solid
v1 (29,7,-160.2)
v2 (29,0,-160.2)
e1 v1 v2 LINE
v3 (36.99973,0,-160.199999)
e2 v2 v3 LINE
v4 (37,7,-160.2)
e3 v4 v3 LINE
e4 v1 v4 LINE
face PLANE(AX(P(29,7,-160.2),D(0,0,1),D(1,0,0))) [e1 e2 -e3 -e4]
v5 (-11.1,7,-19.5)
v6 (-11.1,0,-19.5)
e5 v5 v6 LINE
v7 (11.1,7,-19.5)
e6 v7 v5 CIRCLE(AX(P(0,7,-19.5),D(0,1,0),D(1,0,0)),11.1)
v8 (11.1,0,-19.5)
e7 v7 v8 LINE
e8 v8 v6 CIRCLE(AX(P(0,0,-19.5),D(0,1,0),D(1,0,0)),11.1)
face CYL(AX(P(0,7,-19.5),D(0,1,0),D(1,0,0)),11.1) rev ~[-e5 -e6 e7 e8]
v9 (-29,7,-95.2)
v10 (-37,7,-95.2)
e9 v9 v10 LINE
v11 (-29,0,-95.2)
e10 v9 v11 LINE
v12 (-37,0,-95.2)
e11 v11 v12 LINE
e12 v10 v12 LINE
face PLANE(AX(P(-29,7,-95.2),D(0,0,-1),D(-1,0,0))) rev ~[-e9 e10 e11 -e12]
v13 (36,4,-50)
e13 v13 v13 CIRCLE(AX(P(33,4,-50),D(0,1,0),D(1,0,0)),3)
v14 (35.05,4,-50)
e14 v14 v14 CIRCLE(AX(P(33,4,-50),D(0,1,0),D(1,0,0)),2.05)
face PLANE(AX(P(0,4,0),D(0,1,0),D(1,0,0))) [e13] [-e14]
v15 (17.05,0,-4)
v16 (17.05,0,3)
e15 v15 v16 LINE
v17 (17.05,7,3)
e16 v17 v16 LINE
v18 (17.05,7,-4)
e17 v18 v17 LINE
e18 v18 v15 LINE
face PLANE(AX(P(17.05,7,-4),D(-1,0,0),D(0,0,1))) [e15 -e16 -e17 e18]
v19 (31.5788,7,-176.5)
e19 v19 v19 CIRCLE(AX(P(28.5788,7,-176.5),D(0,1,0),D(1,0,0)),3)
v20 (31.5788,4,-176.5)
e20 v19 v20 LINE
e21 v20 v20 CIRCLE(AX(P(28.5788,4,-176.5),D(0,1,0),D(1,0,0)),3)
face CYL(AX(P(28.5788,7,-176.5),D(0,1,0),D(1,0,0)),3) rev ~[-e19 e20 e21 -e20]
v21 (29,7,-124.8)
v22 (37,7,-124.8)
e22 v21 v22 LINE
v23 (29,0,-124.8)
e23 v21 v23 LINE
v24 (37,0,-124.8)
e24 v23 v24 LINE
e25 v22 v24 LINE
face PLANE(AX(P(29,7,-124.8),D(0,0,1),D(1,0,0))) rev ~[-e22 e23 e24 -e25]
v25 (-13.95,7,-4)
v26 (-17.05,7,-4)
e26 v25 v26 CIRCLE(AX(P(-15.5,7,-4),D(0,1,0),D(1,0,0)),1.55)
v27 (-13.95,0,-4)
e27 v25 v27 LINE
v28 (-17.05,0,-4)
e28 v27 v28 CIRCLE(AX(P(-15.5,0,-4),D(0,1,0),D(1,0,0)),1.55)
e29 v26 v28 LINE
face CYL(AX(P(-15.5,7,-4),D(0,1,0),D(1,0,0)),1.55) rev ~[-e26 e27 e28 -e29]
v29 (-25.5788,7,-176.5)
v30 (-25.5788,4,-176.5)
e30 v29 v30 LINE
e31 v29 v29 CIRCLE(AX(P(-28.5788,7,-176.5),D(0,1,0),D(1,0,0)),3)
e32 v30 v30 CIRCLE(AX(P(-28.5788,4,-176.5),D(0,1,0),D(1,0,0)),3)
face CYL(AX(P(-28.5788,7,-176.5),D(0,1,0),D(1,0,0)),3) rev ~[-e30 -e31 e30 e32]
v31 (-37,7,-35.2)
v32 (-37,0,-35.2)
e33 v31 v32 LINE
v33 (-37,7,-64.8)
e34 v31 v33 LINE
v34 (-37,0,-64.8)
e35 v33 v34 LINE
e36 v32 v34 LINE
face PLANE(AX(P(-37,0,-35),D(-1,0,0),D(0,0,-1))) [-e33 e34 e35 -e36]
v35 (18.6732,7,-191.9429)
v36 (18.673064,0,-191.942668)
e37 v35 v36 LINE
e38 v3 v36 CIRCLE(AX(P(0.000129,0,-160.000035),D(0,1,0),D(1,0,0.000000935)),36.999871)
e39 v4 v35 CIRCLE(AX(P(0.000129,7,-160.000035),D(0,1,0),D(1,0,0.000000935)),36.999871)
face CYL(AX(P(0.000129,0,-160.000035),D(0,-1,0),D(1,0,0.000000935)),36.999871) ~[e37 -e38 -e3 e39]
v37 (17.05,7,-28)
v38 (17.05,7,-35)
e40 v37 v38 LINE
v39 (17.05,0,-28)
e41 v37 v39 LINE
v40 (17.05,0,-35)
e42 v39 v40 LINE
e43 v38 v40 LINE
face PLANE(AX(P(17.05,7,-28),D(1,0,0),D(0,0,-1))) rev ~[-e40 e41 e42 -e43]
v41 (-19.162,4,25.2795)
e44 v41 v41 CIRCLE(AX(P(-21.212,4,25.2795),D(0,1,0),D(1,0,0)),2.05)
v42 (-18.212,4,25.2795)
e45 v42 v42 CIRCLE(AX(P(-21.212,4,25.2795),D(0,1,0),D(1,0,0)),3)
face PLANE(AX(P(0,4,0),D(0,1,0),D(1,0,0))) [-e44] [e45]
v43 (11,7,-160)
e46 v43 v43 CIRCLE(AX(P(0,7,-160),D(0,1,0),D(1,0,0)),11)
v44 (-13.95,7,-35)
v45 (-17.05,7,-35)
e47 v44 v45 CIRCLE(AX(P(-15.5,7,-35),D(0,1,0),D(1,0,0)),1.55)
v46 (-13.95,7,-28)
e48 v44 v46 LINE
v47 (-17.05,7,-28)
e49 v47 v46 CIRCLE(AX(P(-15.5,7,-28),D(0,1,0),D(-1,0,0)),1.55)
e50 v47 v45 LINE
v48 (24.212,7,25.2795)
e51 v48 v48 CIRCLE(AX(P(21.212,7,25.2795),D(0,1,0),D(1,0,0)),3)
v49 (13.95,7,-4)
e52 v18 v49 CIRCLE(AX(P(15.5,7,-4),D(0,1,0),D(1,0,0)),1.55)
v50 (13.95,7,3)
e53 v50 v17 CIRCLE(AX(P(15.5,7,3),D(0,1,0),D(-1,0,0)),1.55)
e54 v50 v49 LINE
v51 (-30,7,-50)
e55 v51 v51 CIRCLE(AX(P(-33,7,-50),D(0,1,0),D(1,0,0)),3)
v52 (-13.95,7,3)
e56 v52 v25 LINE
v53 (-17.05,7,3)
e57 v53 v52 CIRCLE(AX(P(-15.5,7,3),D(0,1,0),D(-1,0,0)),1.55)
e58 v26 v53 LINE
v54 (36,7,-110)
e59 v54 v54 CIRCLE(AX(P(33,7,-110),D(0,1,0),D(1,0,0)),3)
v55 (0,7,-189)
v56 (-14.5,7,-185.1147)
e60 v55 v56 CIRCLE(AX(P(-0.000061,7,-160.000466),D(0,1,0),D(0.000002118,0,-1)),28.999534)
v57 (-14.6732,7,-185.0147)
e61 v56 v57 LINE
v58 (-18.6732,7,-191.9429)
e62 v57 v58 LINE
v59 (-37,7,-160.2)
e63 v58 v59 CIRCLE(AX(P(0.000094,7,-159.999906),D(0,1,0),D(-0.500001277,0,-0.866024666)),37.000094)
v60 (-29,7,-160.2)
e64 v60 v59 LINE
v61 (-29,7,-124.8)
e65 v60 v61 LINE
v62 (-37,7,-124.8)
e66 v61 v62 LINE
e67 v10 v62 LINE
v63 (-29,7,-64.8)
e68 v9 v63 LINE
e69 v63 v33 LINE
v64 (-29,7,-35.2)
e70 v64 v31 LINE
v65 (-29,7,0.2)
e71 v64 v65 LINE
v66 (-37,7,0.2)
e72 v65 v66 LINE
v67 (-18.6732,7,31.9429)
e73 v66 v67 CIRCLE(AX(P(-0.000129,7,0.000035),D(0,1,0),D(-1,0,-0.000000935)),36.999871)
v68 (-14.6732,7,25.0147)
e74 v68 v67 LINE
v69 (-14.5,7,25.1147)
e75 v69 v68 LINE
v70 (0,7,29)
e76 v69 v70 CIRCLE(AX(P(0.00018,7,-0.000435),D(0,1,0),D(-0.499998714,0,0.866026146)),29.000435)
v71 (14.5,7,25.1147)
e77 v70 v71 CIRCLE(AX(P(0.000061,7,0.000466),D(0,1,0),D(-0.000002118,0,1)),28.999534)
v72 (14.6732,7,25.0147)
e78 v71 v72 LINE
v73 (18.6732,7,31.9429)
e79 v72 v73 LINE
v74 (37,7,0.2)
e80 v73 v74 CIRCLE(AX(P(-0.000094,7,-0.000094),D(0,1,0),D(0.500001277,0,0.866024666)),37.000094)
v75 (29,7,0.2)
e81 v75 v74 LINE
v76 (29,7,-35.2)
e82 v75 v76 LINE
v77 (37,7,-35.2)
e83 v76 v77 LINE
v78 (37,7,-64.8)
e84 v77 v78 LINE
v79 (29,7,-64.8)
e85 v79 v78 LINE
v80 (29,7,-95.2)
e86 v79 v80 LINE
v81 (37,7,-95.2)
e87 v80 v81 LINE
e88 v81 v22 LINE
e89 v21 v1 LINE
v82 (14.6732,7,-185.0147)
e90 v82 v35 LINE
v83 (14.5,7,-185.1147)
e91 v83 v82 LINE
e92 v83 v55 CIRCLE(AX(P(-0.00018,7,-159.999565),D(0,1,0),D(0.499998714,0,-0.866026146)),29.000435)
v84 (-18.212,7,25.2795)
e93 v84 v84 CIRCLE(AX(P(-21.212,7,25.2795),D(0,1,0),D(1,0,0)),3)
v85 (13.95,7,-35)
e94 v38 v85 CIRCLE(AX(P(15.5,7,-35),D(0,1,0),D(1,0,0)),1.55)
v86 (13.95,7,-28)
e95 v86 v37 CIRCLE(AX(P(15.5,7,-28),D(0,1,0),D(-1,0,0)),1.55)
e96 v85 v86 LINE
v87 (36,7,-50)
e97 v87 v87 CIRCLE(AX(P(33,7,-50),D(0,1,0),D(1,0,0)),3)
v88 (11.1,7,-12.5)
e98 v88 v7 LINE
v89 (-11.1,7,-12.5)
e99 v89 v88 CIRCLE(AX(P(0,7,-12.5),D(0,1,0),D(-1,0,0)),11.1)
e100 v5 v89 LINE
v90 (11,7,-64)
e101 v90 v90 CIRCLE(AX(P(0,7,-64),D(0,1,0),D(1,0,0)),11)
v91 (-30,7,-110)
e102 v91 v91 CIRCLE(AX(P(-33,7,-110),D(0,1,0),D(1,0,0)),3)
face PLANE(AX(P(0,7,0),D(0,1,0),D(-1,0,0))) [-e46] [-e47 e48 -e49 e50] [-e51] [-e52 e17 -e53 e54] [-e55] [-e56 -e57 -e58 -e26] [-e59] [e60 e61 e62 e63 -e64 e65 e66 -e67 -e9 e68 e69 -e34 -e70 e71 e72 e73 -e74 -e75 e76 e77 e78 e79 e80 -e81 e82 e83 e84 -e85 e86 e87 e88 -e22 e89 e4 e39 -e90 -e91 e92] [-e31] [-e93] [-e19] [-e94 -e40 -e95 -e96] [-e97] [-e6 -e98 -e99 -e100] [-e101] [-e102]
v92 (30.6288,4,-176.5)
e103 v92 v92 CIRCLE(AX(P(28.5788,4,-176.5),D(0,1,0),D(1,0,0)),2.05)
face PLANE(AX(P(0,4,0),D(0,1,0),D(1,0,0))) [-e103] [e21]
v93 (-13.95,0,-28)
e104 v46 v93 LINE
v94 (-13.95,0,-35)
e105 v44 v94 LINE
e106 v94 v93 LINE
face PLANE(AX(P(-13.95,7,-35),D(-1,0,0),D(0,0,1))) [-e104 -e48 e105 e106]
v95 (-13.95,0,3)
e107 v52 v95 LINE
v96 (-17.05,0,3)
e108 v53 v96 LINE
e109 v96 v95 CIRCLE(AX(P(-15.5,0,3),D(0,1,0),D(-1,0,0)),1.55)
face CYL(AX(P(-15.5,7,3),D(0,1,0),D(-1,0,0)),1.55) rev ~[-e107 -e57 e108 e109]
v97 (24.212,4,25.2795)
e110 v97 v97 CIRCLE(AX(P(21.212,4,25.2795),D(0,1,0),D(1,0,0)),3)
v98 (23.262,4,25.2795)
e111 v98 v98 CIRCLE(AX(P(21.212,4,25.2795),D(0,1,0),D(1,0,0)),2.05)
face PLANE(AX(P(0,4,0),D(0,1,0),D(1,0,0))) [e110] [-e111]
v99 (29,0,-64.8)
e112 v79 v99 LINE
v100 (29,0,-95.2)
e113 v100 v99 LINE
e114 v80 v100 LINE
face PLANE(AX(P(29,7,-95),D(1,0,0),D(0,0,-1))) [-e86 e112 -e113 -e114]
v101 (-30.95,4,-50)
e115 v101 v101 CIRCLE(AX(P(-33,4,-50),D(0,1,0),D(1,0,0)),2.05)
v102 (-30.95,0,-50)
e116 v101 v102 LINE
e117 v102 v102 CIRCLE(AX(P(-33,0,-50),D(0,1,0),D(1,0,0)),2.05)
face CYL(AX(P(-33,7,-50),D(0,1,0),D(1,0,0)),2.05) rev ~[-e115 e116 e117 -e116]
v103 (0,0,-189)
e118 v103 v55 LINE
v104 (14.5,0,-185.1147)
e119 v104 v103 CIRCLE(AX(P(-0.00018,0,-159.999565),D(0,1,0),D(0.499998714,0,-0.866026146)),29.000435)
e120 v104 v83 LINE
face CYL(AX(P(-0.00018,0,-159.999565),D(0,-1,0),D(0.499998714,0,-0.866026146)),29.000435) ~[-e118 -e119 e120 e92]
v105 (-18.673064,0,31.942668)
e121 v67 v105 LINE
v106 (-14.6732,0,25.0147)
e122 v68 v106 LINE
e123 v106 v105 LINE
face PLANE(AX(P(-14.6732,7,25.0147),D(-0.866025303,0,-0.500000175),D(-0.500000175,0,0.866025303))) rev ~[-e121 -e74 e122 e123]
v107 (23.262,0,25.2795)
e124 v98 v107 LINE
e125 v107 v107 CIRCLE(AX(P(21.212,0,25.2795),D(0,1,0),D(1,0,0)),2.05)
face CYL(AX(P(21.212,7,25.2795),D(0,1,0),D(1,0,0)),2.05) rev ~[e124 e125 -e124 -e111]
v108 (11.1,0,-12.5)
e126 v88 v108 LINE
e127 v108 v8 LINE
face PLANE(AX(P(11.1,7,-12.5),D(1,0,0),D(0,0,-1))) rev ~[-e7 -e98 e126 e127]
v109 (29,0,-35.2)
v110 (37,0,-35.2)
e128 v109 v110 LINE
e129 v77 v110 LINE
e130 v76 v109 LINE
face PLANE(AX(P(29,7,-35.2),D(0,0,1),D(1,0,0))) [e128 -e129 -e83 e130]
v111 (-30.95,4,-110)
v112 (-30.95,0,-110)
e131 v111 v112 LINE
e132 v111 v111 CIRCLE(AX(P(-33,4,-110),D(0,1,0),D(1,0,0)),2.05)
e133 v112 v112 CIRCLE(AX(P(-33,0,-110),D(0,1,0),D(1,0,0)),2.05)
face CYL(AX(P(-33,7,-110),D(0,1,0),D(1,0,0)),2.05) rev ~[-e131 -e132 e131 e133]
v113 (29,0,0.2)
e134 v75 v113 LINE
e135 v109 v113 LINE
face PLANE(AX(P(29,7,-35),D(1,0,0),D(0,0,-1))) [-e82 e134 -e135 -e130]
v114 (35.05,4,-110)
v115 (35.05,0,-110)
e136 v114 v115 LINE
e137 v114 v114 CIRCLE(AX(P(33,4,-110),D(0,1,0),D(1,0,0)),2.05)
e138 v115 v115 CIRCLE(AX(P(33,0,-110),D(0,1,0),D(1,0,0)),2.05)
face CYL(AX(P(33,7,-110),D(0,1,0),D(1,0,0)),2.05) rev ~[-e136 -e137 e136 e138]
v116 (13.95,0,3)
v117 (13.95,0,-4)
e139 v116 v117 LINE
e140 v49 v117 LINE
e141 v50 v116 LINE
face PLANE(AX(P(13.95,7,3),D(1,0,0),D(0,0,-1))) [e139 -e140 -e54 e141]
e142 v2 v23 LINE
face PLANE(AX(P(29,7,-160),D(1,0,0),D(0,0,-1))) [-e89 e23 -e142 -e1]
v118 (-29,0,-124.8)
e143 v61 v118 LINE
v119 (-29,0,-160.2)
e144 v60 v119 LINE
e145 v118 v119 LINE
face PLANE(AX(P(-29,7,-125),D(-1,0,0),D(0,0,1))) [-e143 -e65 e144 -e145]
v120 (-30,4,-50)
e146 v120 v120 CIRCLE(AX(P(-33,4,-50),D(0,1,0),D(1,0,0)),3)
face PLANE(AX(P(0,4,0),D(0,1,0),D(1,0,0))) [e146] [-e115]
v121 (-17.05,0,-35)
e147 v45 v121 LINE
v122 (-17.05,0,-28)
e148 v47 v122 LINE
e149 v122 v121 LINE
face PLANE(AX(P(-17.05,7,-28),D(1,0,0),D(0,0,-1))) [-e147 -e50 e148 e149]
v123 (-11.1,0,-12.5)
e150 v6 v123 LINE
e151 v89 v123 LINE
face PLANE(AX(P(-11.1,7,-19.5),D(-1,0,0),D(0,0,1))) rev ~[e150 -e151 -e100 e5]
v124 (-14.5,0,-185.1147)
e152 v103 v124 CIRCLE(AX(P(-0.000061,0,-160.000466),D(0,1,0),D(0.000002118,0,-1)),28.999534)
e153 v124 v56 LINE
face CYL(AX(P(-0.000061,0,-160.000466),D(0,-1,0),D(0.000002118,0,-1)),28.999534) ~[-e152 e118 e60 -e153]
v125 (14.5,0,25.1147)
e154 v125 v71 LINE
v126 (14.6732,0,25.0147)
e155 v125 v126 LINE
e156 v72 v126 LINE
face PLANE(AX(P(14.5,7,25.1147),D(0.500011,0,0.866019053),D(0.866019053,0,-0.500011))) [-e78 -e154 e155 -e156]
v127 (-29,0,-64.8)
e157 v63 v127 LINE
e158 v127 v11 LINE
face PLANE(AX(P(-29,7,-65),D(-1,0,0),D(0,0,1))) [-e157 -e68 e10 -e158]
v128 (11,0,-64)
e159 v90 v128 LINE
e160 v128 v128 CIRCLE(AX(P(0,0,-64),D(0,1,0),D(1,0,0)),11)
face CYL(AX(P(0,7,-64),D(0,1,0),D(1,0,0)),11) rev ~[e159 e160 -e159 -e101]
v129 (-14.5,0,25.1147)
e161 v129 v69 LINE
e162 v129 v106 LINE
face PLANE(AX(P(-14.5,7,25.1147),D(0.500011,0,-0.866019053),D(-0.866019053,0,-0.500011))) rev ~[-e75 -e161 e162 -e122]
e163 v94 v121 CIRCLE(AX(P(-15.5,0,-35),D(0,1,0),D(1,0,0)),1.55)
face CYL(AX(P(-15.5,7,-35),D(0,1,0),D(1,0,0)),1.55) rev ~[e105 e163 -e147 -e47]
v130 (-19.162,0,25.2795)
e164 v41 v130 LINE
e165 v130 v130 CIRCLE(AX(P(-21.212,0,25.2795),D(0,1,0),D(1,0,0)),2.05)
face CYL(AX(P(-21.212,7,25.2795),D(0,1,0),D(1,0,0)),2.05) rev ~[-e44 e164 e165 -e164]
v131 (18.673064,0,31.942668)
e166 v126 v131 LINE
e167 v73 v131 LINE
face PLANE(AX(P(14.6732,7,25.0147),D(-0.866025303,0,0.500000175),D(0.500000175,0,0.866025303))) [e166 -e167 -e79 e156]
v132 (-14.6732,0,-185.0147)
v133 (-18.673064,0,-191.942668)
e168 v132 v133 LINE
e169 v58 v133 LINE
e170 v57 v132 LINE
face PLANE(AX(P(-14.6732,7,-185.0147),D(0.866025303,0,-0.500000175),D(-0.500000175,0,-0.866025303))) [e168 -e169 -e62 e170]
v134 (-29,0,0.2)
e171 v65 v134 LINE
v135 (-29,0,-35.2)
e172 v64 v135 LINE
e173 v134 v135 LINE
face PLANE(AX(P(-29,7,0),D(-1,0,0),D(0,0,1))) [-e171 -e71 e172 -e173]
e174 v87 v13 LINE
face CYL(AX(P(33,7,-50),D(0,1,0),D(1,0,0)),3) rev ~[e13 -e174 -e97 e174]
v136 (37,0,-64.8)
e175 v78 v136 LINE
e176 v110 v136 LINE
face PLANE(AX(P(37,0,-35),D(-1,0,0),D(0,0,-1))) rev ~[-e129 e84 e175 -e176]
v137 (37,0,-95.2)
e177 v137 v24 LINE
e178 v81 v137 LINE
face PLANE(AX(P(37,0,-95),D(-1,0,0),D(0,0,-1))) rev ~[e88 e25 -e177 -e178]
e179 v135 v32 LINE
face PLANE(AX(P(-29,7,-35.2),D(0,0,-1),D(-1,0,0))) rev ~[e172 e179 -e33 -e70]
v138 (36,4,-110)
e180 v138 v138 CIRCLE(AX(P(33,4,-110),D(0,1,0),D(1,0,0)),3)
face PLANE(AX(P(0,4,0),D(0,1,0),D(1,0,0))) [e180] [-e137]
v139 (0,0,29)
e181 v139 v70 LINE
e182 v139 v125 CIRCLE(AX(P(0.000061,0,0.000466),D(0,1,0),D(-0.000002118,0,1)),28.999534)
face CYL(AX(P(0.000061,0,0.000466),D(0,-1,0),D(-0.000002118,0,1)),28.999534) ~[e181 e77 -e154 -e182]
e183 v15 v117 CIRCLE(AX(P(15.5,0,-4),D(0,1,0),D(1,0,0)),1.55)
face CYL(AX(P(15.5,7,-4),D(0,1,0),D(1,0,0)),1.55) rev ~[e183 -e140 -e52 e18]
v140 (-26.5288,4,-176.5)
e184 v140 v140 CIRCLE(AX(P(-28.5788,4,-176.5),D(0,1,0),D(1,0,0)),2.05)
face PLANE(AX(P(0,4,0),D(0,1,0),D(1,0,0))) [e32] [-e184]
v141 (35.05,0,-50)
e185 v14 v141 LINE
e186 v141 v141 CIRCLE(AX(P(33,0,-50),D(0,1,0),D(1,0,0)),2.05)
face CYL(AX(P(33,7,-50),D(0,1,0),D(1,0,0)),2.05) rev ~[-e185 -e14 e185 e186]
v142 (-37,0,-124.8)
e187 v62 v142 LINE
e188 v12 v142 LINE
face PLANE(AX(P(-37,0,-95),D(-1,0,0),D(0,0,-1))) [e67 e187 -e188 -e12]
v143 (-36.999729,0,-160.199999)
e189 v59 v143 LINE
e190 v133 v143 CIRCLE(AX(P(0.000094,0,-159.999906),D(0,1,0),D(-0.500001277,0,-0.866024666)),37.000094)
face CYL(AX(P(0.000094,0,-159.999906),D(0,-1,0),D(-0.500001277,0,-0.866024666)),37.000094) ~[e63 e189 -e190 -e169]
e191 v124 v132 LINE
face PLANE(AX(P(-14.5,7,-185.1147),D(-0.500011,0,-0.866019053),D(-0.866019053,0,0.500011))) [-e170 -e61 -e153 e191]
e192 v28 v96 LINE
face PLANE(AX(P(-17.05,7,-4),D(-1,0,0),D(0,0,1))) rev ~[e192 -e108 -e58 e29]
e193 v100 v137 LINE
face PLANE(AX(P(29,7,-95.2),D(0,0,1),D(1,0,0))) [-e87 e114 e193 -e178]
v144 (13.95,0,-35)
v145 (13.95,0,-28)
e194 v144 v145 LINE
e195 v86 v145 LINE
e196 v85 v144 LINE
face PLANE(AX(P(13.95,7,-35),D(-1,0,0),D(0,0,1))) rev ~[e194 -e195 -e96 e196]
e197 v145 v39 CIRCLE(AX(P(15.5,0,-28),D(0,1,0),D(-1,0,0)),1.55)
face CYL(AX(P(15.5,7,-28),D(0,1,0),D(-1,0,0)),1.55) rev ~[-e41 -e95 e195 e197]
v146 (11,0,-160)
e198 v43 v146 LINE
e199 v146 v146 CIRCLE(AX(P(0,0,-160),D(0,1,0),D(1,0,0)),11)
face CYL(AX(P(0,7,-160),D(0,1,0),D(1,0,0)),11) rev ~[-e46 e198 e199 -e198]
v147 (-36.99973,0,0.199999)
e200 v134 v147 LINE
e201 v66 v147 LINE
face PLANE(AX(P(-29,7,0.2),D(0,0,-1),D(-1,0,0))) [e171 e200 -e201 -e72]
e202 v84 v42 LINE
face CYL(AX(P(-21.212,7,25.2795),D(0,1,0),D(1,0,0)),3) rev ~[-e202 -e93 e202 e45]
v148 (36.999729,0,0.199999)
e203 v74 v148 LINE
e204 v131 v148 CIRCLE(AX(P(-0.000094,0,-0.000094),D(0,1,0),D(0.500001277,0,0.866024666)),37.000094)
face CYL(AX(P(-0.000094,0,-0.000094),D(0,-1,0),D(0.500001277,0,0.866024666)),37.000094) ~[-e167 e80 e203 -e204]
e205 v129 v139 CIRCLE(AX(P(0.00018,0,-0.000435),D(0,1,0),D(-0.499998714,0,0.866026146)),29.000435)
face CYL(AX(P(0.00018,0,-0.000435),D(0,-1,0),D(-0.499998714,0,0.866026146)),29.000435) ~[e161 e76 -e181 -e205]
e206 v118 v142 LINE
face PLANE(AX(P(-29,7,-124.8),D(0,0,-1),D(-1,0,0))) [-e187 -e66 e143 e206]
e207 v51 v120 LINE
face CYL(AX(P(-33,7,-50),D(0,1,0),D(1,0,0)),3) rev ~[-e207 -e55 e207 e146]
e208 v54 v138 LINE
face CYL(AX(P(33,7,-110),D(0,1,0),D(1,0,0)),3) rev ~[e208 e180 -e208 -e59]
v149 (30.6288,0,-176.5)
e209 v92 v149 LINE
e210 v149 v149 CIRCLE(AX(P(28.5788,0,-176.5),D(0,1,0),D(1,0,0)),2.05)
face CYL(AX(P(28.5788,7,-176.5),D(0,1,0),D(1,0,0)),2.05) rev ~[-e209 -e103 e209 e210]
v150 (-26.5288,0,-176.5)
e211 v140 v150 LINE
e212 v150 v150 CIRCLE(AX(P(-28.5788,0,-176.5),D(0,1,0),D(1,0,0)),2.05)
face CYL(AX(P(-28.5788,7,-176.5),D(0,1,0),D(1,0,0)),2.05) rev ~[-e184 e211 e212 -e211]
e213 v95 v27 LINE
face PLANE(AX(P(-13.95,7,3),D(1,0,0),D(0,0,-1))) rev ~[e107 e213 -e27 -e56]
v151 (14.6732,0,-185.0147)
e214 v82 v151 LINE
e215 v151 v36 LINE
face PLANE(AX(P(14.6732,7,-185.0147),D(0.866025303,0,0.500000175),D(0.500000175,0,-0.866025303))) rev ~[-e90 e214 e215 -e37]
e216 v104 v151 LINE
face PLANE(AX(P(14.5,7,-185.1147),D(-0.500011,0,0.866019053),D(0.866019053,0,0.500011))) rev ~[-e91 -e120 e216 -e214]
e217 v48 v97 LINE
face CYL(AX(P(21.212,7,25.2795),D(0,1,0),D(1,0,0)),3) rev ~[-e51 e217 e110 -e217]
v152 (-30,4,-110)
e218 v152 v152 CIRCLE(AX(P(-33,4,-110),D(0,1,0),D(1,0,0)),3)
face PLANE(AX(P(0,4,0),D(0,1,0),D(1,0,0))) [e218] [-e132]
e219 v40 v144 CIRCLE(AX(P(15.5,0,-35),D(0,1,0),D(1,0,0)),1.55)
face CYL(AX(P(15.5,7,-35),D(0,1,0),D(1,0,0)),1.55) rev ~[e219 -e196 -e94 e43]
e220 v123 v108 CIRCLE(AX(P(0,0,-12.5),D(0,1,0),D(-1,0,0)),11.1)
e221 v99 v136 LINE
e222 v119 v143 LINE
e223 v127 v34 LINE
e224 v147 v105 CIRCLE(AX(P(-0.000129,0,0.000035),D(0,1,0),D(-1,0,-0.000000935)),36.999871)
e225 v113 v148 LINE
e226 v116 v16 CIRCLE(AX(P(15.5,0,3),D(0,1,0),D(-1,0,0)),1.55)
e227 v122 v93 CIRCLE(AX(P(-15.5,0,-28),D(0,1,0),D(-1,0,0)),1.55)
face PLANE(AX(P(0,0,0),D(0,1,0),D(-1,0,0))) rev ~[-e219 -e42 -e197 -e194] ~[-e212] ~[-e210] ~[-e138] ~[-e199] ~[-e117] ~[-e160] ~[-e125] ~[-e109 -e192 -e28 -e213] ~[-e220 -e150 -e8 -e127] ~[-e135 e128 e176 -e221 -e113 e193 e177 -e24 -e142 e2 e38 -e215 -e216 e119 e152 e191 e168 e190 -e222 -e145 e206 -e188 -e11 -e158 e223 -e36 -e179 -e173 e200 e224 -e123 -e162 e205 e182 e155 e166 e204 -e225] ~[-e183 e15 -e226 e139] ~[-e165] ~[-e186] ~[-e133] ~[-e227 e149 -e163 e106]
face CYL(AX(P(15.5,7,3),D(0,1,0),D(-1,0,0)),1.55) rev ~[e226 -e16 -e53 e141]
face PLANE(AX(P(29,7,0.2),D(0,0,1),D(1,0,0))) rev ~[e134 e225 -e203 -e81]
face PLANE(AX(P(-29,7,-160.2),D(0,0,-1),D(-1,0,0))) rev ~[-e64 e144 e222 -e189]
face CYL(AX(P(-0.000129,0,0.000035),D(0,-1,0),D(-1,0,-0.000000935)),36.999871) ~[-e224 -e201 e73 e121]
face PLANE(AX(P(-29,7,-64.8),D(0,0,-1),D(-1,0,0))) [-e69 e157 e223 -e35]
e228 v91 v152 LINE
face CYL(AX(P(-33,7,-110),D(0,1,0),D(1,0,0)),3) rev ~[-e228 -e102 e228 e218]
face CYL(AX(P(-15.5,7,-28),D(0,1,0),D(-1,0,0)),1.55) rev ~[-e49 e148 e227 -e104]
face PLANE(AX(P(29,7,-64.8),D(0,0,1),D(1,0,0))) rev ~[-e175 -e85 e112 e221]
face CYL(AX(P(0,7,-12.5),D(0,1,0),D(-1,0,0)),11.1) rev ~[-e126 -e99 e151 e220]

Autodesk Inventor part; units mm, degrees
ref_plane "YZ Plane" through (0, 0, 0) normal (1, 0, 0) x (0, 1, 0)
ref_plane "XZ Plane" through (0, 0, 0) normal (0, 1, 0) x (-1, 0, 0)
ref_plane "XY Plane" through (0, 0, 0) normal (0, 0, 1) x (1, 0, 0)
sketch "Boceto1" plane through (0, 0, 0) normal (0, 1, 0) x (-1, 0, 0)
  arc A0 (14.5, 25.1147) -> (0, 29) centre (0, 0) ccw
  arc A1 (0, -189) -> (14.5, -185.1147) centre (0, -160) ccw
  line L0 (37, 0) -> (29, 0)
  line L1 (37, -35) -> (29, -35)
  line L2 (29, -65) -> (37, -65)
  line L3 (29, -95) -> (37, -95)
  line L4 (29, -125) -> (37, -125)
  line L5 (29, -160) -> (37, -160)
  line L6 (14.5, 25.1147) -> (18.5, 32.0429)
  line L7 (14.5, -185.1147) -> (18.5, -192.0429)
  line L8 (0, 62.7565) -> (0, -215.9435)
  arc A2 (37, 0) -> (18.5, 32.0429) centre (0, 0) ccw
  line L9 (29, 0) -> (29, -35)
  line L10 (37, -35) -> (37, -65)
  line L11 (37, -95) -> (37, -125)
  line L12 (29, -65) -> (29, -95)
  line L13 (29, -125) -> (29, -160)
  arc A3 (18.5, -192.0429) -> (37, -160) centre (0, -160) ccw
  arc A4 (0, 29) -> (-14.5, 25.1147) centre (0, 0) ccw
  arc A5 (-14.5, -185.1147) -> (0, -189) centre (0, -160) ccw
  line L14 (-37, 0) -> (-29, 0)
  line L15 (-37, -35) -> (-29, -35)
  line L16 (-29, -65) -> (-37, -65)
  line L17 (-29, -95) -> (-37, -95)
  line L18 (-29, -125) -> (-37, -125)
  line L19 (-29, -160) -> (-37, -160)
  line L20 (-14.5, 25.1147) -> (-18.5, 32.0429)
  line L21 (-14.5, -185.1147) -> (-18.5, -192.0429)
  arc A6 (-18.5, 32.0429) -> (-37, 0) centre (0, 0) ccw
  line L22 (-29, 0) -> (-29, -35)
  line L23 (-37, -35) -> (-37, -65)
  line L24 (-37, -95) -> (-37, -125)
  line L25 (-29, -65) -> (-29, -95)
  line L26 (-29, -125) -> (-29, -160)
  arc A7 (-37, -160) -> (-18.5, -192.0429) centre (0, -160) ccw
  dimension "d1" = 58
  dimension "d3" = 58
  dimension "d4" = 160
  dimension "d5" = 35
  dimension "d6" = 30
  dimension "d7" = 30
  dimension "d8" = 30
  dimension "d9" = 35
  dimension "d10" = 60
  dimension "d11" = 60
extrude "Extrusión1" add sketch "Boceto1" along normal blind 7
sketch "Boceto2" plane through (0, 7, 0) normal (0, 1, 0) x (1, 0, 0)
  circle A0 centre (-33, 50) radius 2.05
  circle A1 centre (-33, 110) radius 2.05
  arc A2 (-18.5, 192.0429) -> (-37, 160) centre (0, 160) ccw projected
  circle A3 centre (0, 160) radius 33
  circle A4 centre (0, 0) radius 33
  circle A5 centre (-21.212, -25.2795) radius 2.05
  line L0 (0, -60.8488) -> (0, 208.5153)
  circle A6 centre (-28.5788, 176.5) radius 2.05
  line L1 (-29, 65) -> (-37, 65) projected
  line L2 (-37, 65) -> (-37, 35) projected
  line L3 (-29, 125) -> (-37, 125) projected
  line L4 (-37, 125) -> (-37, 95) projected
  line L5 (-28.5788, 176.5) -> (0, 160)
  line L6 (0, 0) -> (-21.212, -25.2795)
  line L7 (-29, 0) -> (-37, 0) projected
  line L8 (-37, 160) -> (-29, 160) projected
  circle A7 centre (33, 50) radius 2.05
  circle A8 centre (33, 110) radius 2.05
  circle A9 centre (21.212, -25.2795) radius 2.05
  circle A10 centre (28.5788, 176.5) radius 2.05
  dimension "d14" = 66
  dimension "d15" = 66
  dimension "d16" = 4.1
  dimension "d17" = 15
  dimension "d18" = 4
  dimension "d19" = 15
  dimension "d20" = 4
  dimension "d21" = 50
  dimension "d22" = 30
extrude "Extrusión2" cut sketch "Boceto2" against normal through all contours A0 | A1 | A10 A3 | A3 A10 | A6 A3 | A3 L5 A6 | L5 A3 A6 | A9 A4 | A4 A9 | A5 L6 A4 | A4 A5 | A5 A4 L6 | A7 | A8
sketch "Boceto3" plane through (0, 7, 0) normal (0, 1, 0) x (1, 0, 0)
  circle A0 centre (-33, 50) radius 2.05 projected
  circle A1 centre (-33, 50) radius 3
  circle A2 centre (-33, 110) radius 2.05 projected
  circle A3 centre (-33, 110) radius 3
  circle A4 centre (-28.5788, 176.5) radius 2.05 projected
  circle A5 centre (-28.5788, 176.5) radius 3
  circle A6 centre (-21.212, -25.2795) radius 2.05 projected
  circle A7 centre (-21.212, -25.2795) radius 3
  line L0 (0, -43.6501) -> (0, 201.1209)
  circle A8 centre (33, 50) radius 2.05
  circle A9 centre (33, 50) radius 3
  circle A10 centre (33, 110) radius 2.05
  circle A11 centre (33, 110) radius 3
  circle A12 centre (28.5788, 176.5) radius 2.05
  circle A13 centre (28.5788, 176.5) radius 3
  circle A14 centre (21.212, -25.2795) radius 2.05
  circle A15 centre (21.212, -25.2795) radius 3
  point P0 (0, 0)
  dimension "d25" = 6
extrude "Extrusión3" cut sketch "Boceto3" against normal blind 3 contours A0 | A1 | A2 | A3 | A4 | A5 | A6 | A7 | A8 | A9 | A10 | A11 | A12 | A13 | A14 | A15
sketch "Boceto4" plane through (0, 7, 0) normal (0, 1, 0) x (1, 0, 0)
  arc A0 (14.5, 185.1147) -> (-14.5, 185.1147) centre (0, 160) ccw projected
  arc A1 (-18.5, 192.0429) -> (-37, 160) centre (0, 160) ccw projected
  circle A2 centre (0, 160) radius 11
  circle A3 centre (0, 64) radius 11
  line L0 (0, 12.5) -> (0, 19.5) construction
  line L1 (11.1, 12.5) -> (11.1, 19.5)
  line L2 (-11.1, 19.5) -> (-11.1, 12.5)
  arc A4 (-11.1, 12.5) -> (11.1, 12.5) centre (0, 12.5) ccw
  arc A5 (11.1, 19.5) -> (-11.1, 19.5) centre (0, 19.5) ccw
  line L3 (-15.5, -3) -> (-15.5, 4) construction
  line L4 (-13.95, -3) -> (-13.95, 4)
  line L5 (-17.05, 4) -> (-17.05, -3)
  arc A6 (-17.05, -3) -> (-13.95, -3) centre (-15.5, -3) ccw
  arc A7 (-13.95, 4) -> (-17.05, 4) centre (-15.5, 4) ccw
  line L6 (4.1829, 16) -> (-3.8668, 16)
  line L7 (0, 6.9157) -> (0, 25.6477)
  line L8 (-15.5, 35) -> (-15.5, 28) construction
  line L9 (-13.95, 35) -> (-13.95, 28)
  line L10 (-17.05, 28) -> (-17.05, 35)
  arc A8 (-13.95, 35) -> (-17.05, 35) centre (-15.5, 35) ccw
  arc A9 (-17.05, 28) -> (-13.95, 28) centre (-15.5, 28) ccw
  line L11 (15.5, -3) -> (15.5, 4) construction
  line L12 (13.95, -3) -> (13.95, 4)
  line L13 (17.05, 4) -> (17.05, -3)
  arc A10 (13.95, -3) -> (17.05, -3) centre (15.5, -3) ccw
  arc A11 (17.05, 4) -> (13.95, 4) centre (15.5, 4) ccw
  arc A12 (13.95, 28) -> (17.05, 28) centre (15.5, 28) ccw
  line L14 (13.95, 35) -> (13.95, 28)
  line L15 (15.5, 35) -> (15.5, 28) construction
  arc A13 (17.05, 35) -> (13.95, 35) centre (15.5, 35) ccw
  line L16 (17.05, 28) -> (17.05, 35)
  point P0 (0, 189)
  point P1 (0, 16)
  point P2 (-15.5, 0.5)
  point P3 (-15.5, 31.5)
  point P4 (15.5, 0.5)
  point P5 (15.5, 31.5)
  dimension "d37" = 22
  dimension "d38" = 96
  dimension "d41" = 22.2
  dimension "d42" = 7
  dimension "d43" = 44.5
  dimension "d44" = 3.1
  dimension "d45" = 7
  dimension "d46" = 15.5
  dimension "d47" = 15.5
extrude "Extrusión4" cut sketch "Boceto4" against normal through all
sketch "Boceto7" plane through (0, 7, 0) normal (0, 1, 0) x (1, 0, 0)
  line L0 (-29, 65) -> (-37, 65) projected
  line L1 (-37, 65) -> (-29, 65)
  line L2 (-29, 65) -> (-29, 64.8)
  line L3 (-29, 64.8) -> (-37, 64.8)
  line L4 (-37, 64.8) -> (-37, 65)
  line L5 (-37, 35) -> (-29, 35) projected
  line L6 (-37, 35) -> (-29, 35)
  line L7 (-29, 35) -> (-29, 35.2)
  line L8 (-29, 35.2) -> (-37, 35.2)
  line L9 (-37, 35.2) -> (-37, 35)
  line L10 (-37, 125) -> (-37, 95) projected
  line L11 (-37, 95) -> (-29, 95)
  line L12 (-29, 95) -> (-29, 95.2)
  line L13 (-29, 95.2) -> (-37, 95.2)
  line L14 (-37, 95.2) -> (-37, 95)
  line L15 (-37, 125) -> (-29, 125)
  line L16 (-29, 125) -> (-29, 124.8)
  line L17 (-29, 124.8) -> (-37, 124.8)
  line L18 (-37, 124.8) -> (-37, 125)
  line L19 (-37, 160) -> (-29, 160) projected
  line L20 (-37, 160) -> (-29, 160)
  line L21 (-29, 160) -> (-29, 160.2)
  line L22 (-29, 160.2) -> (-37, 160.2)
  line L23 (-37, 160.2) -> (-37, 160)
  line L24 (-29, 0) -> (-37, 0) projected
  line L25 (-37, 0) -> (-29, 0)
  line L26 (-29, 0) -> (-29, -0.2)
  line L27 (-29, -0.2) -> (-37, -0.2)
  line L28 (-37, -0.2) -> (-37, 0)
  line L29 (-14.5, 185.1147) -> (-18.5, 192.0429) projected
  line L30 (-14.5, 185.1147) -> (-14.6732, 185.0147)
  line L31 (-14.6732, 185.0147) -> (-18.6732, 191.9429)
  arc A0 (-18.5, 192.0429) -> (-37, 160) centre (0, 160) ccw projected
  line L32 (-18.6732, 191.9429) -> (-18.5, 192.0429)
  line L33 (-18.5, -32.0429) -> (-14.5, -25.1147) projected
  line L34 (-14.5, -25.1147) -> (-14.6732, -25.0147)
  line L35 (-14.6732, -25.0147) -> (-18.6732, -31.9429)
  arc A1 (-37, 0) -> (-18.5, -32.0429) centre (0, 0) ccw projected
  line L36 (-18.6732, -31.9429) -> (-18.5, -32.0429)
  line L37 (0, 208.262) -> (0, -50.4937)
  line L38 (29, 65) -> (37, 65)
  line L39 (37, 65) -> (29, 65)
  line L40 (29, 65) -> (29, 64.8)
  line L41 (29, 64.8) -> (37, 64.8)
  line L42 (37, 64.8) -> (37, 65)
  line L43 (37, 35) -> (29, 35)
  line L44 (37, 35) -> (29, 35)
  line L45 (29, 35) -> (29, 35.2)
  line L46 (29, 35.2) -> (37, 35.2)
  line L47 (37, 35.2) -> (37, 35)
  line L48 (37, 125) -> (37, 95)
  line L49 (37, 95) -> (29, 95)
  line L50 (29, 95) -> (29, 95.2)
  line L51 (29, 95.2) -> (37, 95.2)
  line L52 (37, 95.2) -> (37, 95)
  line L53 (37, 125) -> (29, 125)
  line L54 (29, 125) -> (29, 124.8)
  line L55 (29, 124.8) -> (37, 124.8)
  line L56 (37, 124.8) -> (37, 125)
  line L57 (37, 160) -> (29, 160)
  line L58 (37, 160) -> (29, 160)
  line L59 (29, 160) -> (29, 160.2)
  line L60 (29, 160.2) -> (37, 160.2)
  line L61 (37, 160.2) -> (37, 160)
  line L62 (29, 0) -> (37, 0)
  line L63 (37, 0) -> (29, 0)
  line L64 (29, 0) -> (29, -0.2)
  line L65 (29, -0.2) -> (37, -0.2)
  line L66 (37, -0.2) -> (37, 0)
  line L67 (14.5, 185.1147) -> (18.5, 192.0429)
  line L68 (14.5, 185.1147) -> (14.6732, 185.0147)
  line L69 (14.6732, 185.0147) -> (18.6732, 191.9429)
  arc A2 (37, 160) -> (18.5, 192.0429) centre (0, 160) ccw
  line L70 (18.6732, 191.9429) -> (18.5, 192.0429)
  line L71 (18.5, -32.0429) -> (14.5, -25.1147)
  line L72 (14.5, -25.1147) -> (14.6732, -25.0147)
  line L73 (14.6732, -25.0147) -> (18.6732, -31.9429)
  arc A3 (18.5, -32.0429) -> (37, 0) centre (0, 0) ccw
  line L74 (18.6732, -31.9429) -> (18.5, -32.0429)
  point P0 (-36.9995, -0.2)
  point P1 (-36.9995, 160.2)
  point P2 (-18.6729, 191.9425)
  point P3 (18.6729, 191.9425)
  point P4 (36.9995, 160.2)
  point P5 (36.9995, -0.2)
  point P6 (18.6729, -31.9425)
  dimension "d66" = 0.2
extrude "Extrusión7" cut sketch "Boceto7" against normal through all
properties part number "Segundo segmento - superior" material "Plastico PETG"
